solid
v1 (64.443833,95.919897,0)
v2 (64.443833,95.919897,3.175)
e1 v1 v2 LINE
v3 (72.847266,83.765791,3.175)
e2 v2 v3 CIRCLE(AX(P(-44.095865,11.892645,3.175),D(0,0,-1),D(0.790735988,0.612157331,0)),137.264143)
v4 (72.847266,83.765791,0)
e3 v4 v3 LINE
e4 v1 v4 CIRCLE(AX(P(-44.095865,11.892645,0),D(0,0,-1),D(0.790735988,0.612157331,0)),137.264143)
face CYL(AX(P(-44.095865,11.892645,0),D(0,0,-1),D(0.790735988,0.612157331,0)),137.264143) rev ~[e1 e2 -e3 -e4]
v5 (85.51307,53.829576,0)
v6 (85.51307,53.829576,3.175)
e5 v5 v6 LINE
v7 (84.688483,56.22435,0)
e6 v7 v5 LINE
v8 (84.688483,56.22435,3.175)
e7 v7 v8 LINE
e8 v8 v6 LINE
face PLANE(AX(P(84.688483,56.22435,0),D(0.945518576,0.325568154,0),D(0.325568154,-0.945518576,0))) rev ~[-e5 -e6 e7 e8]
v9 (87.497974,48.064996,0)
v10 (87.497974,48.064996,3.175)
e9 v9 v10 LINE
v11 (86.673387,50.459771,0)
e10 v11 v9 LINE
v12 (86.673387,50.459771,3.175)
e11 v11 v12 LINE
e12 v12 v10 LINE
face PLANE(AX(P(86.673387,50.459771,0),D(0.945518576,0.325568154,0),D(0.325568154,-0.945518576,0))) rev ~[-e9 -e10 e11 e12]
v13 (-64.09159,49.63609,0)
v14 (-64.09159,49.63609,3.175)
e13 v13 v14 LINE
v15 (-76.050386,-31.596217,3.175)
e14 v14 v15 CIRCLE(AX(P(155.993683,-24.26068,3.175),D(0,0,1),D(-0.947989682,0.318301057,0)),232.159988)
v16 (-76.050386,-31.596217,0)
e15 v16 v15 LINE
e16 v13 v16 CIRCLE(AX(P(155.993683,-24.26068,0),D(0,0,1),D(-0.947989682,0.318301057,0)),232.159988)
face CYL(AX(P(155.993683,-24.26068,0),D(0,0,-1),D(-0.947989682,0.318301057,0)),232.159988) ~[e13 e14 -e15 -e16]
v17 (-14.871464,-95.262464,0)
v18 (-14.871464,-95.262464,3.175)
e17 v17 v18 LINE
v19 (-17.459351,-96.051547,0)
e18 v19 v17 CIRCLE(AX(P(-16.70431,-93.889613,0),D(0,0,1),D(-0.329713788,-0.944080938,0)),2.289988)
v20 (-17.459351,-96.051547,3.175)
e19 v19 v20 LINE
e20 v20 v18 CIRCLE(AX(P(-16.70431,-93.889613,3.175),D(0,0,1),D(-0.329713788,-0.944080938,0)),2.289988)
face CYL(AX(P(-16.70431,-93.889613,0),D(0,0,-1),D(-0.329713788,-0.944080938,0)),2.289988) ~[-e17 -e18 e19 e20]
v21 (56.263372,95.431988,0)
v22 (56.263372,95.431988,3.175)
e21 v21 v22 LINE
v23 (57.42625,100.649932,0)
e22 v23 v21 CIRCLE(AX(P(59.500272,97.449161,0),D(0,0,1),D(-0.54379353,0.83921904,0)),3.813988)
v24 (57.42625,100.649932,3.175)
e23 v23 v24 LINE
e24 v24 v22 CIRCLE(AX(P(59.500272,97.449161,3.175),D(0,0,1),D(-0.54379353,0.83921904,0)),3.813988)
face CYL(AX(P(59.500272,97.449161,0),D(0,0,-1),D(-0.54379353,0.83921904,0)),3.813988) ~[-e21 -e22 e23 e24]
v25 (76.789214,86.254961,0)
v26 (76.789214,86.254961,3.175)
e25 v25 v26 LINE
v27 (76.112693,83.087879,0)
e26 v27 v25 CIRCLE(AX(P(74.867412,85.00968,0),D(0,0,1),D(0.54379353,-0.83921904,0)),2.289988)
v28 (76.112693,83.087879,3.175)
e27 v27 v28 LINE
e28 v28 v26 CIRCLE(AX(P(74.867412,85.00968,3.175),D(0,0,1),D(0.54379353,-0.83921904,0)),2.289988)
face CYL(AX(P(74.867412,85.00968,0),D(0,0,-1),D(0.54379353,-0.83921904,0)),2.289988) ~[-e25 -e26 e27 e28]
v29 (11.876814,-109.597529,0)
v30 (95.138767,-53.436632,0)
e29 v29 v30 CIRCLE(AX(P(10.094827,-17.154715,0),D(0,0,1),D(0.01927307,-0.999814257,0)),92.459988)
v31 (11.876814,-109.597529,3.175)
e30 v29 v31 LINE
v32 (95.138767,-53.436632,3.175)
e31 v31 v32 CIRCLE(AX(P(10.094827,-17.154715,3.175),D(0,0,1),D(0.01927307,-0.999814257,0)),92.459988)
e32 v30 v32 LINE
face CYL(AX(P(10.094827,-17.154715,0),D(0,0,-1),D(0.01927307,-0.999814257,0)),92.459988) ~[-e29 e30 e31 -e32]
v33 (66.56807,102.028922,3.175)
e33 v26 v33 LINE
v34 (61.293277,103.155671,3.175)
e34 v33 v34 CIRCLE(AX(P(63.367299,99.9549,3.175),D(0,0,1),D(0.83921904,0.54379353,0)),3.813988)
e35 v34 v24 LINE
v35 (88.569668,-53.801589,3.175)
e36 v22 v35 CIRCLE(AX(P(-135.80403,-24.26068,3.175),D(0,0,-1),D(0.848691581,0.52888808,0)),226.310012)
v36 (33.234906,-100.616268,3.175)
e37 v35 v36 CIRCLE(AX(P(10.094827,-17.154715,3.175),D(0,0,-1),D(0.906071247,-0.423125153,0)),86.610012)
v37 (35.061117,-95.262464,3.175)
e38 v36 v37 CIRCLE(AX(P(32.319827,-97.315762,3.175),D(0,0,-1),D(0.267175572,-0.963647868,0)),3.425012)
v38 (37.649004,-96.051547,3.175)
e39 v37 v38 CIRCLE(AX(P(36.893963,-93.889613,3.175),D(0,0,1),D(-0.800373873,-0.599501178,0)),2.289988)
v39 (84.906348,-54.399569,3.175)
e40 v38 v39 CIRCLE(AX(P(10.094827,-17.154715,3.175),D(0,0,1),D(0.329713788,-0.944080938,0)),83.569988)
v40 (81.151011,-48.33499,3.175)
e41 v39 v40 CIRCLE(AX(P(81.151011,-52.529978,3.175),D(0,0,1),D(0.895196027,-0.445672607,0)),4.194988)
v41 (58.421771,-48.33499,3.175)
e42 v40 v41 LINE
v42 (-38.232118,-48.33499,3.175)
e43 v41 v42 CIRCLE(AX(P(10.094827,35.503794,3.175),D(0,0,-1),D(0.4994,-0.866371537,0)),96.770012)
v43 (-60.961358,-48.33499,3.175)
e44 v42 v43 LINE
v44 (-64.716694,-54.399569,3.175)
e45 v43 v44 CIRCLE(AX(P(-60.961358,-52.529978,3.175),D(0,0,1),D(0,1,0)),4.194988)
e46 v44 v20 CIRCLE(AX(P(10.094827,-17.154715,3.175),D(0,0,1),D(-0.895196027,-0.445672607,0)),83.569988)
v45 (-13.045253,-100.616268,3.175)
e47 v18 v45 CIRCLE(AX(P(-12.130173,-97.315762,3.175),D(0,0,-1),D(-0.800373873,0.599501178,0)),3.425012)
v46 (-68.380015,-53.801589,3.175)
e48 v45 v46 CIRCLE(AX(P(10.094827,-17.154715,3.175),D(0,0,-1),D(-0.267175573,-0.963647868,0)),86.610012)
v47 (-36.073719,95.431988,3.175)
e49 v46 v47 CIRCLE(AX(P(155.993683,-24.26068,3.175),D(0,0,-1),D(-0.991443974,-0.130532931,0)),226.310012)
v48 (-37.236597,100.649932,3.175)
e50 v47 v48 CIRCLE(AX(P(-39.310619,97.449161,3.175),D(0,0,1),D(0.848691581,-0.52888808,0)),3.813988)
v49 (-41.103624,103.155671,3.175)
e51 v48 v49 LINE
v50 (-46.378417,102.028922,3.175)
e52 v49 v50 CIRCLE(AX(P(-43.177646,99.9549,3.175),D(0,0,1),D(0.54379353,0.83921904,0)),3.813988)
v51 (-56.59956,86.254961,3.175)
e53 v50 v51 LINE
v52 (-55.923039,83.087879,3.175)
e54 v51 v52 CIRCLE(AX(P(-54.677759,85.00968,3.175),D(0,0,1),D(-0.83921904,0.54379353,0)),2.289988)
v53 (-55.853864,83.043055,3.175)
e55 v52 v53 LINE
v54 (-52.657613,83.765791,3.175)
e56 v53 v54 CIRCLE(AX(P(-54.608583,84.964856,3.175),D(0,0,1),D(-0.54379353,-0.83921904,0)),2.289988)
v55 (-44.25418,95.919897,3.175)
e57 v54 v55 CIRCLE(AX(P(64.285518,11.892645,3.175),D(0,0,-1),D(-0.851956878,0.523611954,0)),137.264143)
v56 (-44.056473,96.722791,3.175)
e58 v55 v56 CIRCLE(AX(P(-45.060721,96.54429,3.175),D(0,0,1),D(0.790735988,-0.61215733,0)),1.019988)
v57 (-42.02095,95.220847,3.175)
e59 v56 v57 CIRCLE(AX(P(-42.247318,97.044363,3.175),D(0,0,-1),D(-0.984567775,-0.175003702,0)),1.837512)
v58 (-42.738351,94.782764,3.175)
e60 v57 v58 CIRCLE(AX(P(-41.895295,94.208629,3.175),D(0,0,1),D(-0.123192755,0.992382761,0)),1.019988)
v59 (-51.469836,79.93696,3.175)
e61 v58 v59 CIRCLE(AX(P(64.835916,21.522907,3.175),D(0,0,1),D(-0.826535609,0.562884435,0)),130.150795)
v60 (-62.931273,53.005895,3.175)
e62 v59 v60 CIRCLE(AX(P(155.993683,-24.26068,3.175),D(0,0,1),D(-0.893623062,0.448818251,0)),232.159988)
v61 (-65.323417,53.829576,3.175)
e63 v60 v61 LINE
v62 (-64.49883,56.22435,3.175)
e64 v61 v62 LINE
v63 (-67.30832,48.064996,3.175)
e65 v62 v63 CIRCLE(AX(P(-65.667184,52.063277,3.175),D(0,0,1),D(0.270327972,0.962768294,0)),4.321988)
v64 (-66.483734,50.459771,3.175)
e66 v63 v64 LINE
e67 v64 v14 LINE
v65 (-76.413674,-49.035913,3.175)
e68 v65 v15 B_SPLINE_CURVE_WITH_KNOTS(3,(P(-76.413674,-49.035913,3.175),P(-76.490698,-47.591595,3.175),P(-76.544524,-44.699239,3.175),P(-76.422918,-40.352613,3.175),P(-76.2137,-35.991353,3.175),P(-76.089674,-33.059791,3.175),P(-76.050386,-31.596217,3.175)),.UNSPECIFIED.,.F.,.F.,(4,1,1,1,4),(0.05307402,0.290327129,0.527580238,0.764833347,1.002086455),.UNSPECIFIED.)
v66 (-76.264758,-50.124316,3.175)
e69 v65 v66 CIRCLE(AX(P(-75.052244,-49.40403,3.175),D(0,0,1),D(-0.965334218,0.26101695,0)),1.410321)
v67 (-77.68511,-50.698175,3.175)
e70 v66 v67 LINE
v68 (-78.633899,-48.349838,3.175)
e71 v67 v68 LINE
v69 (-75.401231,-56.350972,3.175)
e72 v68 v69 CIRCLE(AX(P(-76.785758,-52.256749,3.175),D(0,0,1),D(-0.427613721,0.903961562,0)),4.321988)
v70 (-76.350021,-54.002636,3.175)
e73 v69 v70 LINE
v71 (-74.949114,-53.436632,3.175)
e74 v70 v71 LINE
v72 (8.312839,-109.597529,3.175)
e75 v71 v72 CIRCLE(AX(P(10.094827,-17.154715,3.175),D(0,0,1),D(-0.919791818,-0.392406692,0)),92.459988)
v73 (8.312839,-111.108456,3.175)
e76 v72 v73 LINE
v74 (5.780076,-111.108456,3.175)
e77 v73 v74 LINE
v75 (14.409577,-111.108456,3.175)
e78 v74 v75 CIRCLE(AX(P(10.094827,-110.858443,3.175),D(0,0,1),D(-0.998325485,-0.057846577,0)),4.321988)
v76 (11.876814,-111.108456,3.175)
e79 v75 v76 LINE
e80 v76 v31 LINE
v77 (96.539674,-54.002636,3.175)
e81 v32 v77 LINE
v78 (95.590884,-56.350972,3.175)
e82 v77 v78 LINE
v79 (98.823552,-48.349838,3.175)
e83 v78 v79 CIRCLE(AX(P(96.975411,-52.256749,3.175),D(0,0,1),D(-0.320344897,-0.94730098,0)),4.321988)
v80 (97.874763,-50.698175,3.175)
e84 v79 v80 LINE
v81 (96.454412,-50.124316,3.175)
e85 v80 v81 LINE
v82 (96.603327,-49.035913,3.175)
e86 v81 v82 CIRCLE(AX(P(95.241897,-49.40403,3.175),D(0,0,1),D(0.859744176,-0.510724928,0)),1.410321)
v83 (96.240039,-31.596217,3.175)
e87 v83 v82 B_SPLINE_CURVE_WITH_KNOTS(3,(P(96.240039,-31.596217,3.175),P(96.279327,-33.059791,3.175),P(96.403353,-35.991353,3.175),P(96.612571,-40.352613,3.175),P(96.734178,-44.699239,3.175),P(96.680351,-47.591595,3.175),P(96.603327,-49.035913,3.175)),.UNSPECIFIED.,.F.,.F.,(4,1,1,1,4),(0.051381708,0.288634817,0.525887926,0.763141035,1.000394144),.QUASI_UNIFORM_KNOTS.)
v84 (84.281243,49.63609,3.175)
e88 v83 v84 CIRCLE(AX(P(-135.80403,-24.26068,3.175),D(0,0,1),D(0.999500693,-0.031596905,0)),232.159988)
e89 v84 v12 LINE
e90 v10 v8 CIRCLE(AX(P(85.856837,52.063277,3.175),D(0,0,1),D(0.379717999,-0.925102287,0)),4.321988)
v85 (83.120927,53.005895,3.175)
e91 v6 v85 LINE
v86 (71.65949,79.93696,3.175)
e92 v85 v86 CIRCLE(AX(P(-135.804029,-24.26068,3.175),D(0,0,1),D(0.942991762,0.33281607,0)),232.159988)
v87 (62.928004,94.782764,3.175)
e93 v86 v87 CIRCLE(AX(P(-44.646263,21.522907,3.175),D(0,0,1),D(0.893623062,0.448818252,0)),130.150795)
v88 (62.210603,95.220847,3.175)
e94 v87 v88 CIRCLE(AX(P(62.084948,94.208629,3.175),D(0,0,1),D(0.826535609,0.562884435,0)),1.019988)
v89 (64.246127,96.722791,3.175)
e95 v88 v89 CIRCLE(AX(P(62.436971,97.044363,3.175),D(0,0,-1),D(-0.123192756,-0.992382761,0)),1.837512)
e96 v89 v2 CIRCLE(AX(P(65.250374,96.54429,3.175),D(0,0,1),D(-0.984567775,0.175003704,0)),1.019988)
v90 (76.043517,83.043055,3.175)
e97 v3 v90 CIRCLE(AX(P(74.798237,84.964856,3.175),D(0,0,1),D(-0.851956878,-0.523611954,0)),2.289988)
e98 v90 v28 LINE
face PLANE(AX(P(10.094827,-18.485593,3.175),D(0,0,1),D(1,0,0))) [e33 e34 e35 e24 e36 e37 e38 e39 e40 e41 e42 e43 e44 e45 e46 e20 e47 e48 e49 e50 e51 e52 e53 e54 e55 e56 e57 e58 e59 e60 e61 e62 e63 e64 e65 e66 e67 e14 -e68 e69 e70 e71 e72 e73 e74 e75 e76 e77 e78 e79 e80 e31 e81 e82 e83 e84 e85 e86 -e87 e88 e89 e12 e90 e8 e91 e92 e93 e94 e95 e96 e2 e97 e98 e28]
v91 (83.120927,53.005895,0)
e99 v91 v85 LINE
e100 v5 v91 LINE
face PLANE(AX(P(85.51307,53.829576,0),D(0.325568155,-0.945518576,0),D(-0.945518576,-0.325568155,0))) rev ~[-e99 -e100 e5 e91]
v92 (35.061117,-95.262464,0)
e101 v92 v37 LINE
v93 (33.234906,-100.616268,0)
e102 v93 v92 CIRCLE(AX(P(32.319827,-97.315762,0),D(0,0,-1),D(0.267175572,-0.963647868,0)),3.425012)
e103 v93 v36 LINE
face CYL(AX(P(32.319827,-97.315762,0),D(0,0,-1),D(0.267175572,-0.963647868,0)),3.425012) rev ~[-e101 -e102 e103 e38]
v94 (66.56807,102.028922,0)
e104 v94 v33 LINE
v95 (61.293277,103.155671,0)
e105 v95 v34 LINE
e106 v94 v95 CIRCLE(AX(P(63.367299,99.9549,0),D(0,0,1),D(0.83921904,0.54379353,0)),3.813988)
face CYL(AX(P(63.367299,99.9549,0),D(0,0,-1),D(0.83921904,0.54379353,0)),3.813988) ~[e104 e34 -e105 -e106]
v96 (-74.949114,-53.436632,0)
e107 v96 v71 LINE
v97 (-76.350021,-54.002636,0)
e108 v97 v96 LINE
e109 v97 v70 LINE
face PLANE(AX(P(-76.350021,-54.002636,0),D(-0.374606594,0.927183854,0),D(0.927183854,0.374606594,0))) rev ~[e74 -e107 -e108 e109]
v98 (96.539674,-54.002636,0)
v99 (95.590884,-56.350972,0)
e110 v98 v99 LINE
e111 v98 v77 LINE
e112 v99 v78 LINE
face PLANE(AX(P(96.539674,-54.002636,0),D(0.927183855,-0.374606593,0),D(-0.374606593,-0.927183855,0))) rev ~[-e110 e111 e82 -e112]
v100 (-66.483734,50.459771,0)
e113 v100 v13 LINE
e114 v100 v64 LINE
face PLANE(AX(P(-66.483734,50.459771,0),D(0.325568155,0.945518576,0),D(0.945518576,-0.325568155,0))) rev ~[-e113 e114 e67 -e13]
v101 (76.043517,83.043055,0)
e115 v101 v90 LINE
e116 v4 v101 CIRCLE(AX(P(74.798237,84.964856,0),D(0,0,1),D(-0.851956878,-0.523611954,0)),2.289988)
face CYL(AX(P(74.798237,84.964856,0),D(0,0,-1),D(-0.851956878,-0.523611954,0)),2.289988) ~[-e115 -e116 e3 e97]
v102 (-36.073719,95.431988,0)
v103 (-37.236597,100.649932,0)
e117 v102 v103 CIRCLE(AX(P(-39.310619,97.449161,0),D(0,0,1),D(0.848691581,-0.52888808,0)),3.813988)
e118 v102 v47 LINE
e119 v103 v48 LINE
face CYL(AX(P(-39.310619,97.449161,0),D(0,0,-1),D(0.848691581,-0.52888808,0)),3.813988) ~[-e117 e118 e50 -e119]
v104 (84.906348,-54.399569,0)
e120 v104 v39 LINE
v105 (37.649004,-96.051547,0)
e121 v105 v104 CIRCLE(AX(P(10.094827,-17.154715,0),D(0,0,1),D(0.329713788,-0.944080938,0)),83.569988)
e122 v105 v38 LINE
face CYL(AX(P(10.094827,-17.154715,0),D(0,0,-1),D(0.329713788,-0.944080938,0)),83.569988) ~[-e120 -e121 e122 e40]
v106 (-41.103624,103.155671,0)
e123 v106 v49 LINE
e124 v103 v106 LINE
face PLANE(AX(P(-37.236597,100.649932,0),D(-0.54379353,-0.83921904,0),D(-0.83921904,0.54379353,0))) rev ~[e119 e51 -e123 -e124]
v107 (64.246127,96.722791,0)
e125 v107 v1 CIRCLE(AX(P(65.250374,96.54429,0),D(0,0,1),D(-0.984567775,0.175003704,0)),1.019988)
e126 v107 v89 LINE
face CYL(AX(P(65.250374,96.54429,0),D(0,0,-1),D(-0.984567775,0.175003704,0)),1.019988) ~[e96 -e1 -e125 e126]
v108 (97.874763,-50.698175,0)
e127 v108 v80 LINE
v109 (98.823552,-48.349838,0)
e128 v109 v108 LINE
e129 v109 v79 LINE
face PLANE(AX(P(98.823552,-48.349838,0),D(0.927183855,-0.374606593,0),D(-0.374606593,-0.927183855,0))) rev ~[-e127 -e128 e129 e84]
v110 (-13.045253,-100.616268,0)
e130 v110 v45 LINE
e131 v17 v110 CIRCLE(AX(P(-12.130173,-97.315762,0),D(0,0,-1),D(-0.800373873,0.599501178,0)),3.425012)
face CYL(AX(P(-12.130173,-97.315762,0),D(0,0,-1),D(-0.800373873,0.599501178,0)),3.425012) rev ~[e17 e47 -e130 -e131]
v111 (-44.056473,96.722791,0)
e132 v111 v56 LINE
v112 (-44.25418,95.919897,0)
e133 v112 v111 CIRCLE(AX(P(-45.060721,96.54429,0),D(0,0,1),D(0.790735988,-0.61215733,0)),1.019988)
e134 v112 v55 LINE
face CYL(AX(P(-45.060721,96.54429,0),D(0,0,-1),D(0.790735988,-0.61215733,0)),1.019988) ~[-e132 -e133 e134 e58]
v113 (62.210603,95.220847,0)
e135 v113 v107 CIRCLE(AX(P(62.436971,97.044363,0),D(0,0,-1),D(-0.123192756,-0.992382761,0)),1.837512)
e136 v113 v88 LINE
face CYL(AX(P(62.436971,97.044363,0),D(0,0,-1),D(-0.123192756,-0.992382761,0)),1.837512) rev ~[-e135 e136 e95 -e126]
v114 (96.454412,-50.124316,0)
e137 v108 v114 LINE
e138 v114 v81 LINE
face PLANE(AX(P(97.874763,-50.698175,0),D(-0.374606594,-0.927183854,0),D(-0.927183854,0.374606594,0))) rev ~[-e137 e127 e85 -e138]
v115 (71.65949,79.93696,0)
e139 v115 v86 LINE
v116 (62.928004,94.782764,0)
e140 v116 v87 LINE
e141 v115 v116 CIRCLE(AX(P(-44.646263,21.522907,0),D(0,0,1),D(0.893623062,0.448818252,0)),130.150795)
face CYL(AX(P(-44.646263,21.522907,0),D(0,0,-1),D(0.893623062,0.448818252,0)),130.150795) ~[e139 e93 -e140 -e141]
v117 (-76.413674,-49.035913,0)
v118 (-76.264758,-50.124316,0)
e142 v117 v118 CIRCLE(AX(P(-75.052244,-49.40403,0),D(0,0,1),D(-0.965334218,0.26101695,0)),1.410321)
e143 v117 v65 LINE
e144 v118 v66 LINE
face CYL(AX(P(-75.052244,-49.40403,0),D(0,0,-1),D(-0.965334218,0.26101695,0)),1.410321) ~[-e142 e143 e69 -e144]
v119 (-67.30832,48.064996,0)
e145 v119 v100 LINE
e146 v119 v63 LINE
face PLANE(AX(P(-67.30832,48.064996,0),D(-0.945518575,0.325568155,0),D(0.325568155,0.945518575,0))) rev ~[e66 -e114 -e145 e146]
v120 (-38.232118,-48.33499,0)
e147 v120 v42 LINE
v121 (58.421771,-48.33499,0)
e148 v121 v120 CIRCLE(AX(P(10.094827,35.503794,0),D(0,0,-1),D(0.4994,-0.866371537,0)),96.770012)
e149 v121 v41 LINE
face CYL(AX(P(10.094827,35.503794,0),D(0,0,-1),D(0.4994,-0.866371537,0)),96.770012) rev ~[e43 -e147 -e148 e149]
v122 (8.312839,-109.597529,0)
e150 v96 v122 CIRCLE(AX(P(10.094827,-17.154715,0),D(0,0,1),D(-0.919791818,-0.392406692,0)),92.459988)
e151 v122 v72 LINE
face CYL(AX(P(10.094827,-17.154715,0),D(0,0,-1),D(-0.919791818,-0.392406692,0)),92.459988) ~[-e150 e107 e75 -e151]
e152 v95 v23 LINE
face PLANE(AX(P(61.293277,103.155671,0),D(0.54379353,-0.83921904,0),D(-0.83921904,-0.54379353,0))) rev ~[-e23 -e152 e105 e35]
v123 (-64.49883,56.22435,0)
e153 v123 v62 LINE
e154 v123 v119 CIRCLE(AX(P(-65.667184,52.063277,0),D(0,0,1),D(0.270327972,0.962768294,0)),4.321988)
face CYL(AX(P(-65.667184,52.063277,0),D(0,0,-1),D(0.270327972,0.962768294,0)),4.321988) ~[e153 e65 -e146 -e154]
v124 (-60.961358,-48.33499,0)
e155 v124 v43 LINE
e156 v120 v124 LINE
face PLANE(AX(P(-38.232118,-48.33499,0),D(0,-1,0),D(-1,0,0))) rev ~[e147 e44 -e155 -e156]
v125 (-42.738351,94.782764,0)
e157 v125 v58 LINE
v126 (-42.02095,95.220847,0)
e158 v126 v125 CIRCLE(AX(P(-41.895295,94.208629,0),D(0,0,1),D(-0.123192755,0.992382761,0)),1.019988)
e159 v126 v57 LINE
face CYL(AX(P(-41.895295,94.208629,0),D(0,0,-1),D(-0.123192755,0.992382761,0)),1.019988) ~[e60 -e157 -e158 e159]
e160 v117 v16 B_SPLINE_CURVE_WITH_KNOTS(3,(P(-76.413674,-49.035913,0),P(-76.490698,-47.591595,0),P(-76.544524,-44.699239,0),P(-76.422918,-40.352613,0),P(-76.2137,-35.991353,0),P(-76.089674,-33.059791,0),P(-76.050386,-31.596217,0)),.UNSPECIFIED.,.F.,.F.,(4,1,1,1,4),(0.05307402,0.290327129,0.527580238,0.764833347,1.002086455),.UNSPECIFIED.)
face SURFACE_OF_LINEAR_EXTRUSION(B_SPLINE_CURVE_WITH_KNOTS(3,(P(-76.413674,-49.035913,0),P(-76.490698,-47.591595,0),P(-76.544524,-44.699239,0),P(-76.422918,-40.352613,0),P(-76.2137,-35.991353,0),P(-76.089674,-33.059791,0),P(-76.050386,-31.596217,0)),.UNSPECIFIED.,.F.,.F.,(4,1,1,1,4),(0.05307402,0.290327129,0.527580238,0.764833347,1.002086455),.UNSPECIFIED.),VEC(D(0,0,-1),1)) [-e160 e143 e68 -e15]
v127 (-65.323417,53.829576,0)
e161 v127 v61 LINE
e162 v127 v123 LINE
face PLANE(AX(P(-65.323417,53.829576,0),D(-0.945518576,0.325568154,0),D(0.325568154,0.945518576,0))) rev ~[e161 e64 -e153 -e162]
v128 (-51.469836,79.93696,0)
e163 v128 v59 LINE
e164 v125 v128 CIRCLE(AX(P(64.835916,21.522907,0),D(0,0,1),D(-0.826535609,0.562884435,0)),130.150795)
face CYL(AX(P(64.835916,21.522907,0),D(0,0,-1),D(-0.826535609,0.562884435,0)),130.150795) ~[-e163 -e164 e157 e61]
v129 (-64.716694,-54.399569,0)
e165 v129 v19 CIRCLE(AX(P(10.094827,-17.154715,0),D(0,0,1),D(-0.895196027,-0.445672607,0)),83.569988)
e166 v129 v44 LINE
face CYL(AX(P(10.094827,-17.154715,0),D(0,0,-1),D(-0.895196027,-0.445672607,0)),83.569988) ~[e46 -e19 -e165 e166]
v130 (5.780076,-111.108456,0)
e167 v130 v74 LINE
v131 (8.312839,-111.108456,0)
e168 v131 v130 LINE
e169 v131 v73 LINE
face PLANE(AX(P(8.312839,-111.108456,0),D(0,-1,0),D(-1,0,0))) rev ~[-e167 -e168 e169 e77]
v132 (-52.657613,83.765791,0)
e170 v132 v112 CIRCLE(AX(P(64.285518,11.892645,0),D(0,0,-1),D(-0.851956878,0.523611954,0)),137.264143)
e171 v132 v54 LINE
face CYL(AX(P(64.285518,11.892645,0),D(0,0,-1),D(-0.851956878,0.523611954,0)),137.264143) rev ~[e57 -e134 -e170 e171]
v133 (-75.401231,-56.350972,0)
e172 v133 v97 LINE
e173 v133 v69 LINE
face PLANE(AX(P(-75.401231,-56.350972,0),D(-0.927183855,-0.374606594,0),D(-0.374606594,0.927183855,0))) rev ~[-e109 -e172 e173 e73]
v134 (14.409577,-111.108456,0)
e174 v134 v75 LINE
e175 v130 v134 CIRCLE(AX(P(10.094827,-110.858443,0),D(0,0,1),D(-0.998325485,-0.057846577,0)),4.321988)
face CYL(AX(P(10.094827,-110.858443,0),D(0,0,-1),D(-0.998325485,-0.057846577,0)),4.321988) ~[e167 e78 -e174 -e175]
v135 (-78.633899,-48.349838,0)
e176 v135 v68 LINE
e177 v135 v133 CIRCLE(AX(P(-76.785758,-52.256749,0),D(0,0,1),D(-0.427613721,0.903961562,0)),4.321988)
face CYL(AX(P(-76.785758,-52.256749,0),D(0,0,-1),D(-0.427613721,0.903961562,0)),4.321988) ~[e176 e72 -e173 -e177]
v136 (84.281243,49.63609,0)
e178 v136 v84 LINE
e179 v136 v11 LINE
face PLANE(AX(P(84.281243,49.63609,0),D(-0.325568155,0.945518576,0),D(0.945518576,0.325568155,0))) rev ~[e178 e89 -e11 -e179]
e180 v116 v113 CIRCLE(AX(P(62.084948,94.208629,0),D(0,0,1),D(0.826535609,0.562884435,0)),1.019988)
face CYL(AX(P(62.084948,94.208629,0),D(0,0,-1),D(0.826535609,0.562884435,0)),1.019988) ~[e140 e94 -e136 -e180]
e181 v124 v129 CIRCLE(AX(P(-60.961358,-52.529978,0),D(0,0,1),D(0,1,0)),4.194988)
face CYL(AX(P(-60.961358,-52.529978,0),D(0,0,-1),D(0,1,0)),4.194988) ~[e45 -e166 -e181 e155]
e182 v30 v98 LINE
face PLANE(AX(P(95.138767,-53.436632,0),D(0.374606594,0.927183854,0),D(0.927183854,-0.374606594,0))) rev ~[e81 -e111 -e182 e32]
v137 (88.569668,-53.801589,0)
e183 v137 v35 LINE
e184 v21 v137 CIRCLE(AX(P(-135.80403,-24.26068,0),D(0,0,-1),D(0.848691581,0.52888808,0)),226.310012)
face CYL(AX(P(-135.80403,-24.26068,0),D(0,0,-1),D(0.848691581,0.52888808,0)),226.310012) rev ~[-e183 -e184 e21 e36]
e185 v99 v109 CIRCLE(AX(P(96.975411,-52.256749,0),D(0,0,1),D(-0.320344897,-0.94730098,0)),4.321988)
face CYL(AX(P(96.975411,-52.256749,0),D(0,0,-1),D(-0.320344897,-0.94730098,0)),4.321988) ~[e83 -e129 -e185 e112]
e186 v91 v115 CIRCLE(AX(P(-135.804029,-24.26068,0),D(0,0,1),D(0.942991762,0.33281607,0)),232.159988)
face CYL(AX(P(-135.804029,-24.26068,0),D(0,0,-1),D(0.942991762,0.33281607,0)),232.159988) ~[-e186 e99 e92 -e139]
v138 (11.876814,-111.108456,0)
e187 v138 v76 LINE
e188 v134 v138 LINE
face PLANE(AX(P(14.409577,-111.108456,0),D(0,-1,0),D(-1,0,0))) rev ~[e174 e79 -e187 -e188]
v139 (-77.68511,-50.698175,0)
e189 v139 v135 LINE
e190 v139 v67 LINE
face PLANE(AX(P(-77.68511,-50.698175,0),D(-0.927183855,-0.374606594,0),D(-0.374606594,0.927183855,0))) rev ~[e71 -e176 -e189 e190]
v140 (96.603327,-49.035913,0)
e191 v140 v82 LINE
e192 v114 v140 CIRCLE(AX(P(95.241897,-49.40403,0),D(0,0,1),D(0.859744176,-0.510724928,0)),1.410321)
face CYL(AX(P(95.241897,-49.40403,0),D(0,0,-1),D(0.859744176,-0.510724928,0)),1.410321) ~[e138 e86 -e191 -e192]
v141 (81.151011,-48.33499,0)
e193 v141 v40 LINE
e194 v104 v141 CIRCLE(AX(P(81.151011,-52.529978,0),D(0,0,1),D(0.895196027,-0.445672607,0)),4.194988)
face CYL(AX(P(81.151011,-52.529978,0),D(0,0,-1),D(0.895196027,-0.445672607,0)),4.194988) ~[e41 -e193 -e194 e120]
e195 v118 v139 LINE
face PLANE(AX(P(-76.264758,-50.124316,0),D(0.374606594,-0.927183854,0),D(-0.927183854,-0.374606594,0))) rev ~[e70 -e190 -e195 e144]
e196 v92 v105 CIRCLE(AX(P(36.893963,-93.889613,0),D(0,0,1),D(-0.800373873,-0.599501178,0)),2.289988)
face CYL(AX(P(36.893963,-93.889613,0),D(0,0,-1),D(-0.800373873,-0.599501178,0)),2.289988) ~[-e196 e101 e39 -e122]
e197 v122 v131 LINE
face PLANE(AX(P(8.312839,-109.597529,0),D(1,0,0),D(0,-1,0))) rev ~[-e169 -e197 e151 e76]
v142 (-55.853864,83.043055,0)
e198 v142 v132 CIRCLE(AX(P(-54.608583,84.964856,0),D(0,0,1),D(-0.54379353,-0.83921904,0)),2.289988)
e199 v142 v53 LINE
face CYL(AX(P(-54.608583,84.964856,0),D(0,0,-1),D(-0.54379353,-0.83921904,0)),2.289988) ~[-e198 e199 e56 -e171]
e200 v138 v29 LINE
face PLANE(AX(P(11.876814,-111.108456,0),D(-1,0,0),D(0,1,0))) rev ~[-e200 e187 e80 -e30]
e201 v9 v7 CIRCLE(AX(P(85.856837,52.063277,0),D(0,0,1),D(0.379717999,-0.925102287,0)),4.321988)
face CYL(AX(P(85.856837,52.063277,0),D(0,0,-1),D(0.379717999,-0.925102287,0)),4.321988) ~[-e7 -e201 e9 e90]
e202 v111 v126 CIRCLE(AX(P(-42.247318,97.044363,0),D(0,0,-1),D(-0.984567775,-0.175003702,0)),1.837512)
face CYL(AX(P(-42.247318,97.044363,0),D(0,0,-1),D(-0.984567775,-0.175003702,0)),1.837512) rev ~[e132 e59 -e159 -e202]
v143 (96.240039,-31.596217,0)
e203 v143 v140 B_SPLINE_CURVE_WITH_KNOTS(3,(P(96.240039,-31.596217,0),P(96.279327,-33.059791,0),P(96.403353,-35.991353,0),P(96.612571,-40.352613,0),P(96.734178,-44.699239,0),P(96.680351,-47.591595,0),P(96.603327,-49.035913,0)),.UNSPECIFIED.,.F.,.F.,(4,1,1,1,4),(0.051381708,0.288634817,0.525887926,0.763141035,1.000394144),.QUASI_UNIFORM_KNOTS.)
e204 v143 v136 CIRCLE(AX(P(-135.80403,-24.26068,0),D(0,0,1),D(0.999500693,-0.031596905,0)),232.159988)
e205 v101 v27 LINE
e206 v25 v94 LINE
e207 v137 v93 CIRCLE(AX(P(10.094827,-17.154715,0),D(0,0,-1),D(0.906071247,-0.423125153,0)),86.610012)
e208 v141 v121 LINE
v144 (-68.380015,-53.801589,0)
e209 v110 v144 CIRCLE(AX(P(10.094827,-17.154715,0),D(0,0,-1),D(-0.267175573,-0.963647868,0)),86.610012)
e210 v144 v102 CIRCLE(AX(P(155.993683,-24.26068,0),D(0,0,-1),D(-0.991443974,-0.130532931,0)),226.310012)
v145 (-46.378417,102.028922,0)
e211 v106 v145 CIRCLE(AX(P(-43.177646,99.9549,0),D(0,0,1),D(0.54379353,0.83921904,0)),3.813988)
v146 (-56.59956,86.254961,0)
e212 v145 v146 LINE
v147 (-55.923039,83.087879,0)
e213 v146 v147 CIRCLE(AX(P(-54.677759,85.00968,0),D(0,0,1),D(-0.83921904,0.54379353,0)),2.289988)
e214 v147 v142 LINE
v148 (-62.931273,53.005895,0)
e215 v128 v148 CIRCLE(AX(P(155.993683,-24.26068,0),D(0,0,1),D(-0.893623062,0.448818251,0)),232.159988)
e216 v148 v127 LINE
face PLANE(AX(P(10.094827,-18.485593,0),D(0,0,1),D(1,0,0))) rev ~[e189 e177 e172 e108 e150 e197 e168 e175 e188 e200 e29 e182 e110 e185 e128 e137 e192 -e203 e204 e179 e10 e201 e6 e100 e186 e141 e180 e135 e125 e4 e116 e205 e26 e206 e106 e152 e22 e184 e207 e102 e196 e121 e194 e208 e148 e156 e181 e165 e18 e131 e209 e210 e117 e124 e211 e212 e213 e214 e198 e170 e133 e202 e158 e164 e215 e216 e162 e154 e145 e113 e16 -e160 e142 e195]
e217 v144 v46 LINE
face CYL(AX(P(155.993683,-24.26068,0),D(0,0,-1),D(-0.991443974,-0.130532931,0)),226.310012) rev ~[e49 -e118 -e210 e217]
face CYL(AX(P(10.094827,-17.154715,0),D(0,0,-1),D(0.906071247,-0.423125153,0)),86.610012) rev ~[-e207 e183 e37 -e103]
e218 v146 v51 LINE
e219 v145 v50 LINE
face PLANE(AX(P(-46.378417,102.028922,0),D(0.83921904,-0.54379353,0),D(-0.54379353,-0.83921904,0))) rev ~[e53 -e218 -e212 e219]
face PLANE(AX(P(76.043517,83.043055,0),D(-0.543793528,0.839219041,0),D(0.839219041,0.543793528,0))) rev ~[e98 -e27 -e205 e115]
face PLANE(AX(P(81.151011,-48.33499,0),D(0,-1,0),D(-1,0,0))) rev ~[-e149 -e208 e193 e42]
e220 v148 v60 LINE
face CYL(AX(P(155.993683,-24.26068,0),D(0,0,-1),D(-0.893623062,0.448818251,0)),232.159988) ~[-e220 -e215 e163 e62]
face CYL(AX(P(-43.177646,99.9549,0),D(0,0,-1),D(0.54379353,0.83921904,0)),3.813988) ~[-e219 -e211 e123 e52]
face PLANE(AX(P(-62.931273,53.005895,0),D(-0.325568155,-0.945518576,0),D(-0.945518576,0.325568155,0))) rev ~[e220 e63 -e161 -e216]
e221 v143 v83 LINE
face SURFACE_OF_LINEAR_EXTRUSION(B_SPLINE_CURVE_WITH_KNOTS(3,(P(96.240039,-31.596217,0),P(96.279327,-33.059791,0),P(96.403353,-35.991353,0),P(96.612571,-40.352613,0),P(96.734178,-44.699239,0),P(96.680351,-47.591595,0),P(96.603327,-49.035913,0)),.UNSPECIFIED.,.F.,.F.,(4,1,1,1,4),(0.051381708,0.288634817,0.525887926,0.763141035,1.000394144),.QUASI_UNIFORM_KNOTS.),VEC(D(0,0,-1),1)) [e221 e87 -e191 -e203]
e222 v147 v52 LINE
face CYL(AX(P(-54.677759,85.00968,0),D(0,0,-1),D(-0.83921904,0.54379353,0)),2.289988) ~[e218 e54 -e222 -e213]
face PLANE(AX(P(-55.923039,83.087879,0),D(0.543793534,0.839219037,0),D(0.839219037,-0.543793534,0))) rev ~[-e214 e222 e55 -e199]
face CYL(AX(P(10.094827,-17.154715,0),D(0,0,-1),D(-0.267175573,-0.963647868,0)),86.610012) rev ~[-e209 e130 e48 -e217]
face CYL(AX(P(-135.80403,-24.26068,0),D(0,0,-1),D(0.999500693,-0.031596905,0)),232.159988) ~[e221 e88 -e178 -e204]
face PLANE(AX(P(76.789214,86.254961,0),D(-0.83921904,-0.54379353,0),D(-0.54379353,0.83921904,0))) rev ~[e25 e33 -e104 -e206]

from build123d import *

# Parameters (mm, degrees)
BOSS_EXTRUDE1_DEPTH = 3.175


with BuildPart() as part:
    # Sketch1 → Boss-Extrude1 (new body)
    with BuildSketch(Plane.XY):
        with BuildLine():
            Line((-38.232117525, -48.334989908), (-60.961358056, -48.334989908))
            ThreePointArc((-60.961358056, -48.334989908), (-64.527927466, -50.321470228), (-64.71669447, -54.399568858))
            ThreePointArc((-64.71669447, -54.399568858), (-45.162805162, -79.848709383), (-17.459350628, -96.051547015))
            ThreePointArc((-17.459350628, -96.051547015), (-16.036418216, -96.080038848), (-14.87146367, -95.262463569))
            ThreePointArc((-14.87146367, -95.262463569), (-8.888558673, -96.210030714), (-13.045252985, -100.616268123))
            ThreePointArc((-13.045252985, -100.616268123), (-45.845334299, -83.275759663), (-68.380015164, -53.801589172))
            ThreePointArc((-68.380015164, -53.801589172), (-65.192805425, 23.622083996), (-36.073719239, 95.431987857))
            ThreePointArc((-36.073719239, 95.431987857), (-35.587957482, 98.278797412), (-37.236596684, 100.64993172))
            Line((-37.236596684, 100.64993172), (-41.103624033, 103.155671407))
            ThreePointArc((-41.103624033, 103.155671407), (-43.974377986, 103.684742176), (-46.378417101, 102.028922117))
            Line((-46.378417101, 102.028922117), (-56.599560294, 86.254961047))
            ThreePointArc((-56.599560294, 86.254961047), (-56.917224028, 84.531308043), (-55.923039481, 83.087879135))
            Line((-55.923039481, 83.087879135), (-55.853863949, 83.043055072))
            ThreePointArc((-55.853863949, 83.043055072), (-54.103522344, 82.73125901), (-52.657612543, 83.765791448))
            ThreePointArc((-52.657612543, 83.765791448), (-48.619561631, 89.956003624), (-44.25417952, 95.919896729))
            ThreePointArc((-44.25417952, 95.919896729), (-44.070317424, 96.300411286), (-44.056473461, 96.722791379))
            ThreePointArc((-44.056473461, 96.722791379), (-41.15632655, 98.522939289), (-42.02094997, 95.220847385))
            ThreePointArc((-42.02094997, 95.220847385), (-42.426877037, 95.079143581), (-42.7383511, 94.782764332))
            ThreePointArc((-42.7383511, 94.782764332), (-47.349935461, 87.504452643), (-51.469836467, 79.936959858))
            ThreePointArc((-51.469836467, 79.936959858), (-57.625378953, 66.65222576), (-62.931273284, 53.005894799))
            Line((-62.931273284, 53.005894799), (-65.323416618, 53.829575804))
            Line((-65.323416618, 53.829575804), (-64.498829719, 56.224350047))
            ThreePointArc((-64.498829719, 56.224350047), (-69.753703666, 53.470378819), (-67.308320476, 48.064996429))
            Line((-67.308320476, 48.064996429), (-66.483733576, 50.459770671))
            Line((-66.483733576, 50.459770671), (-64.091590242, 49.636089666))
            ThreePointArc((-64.091590242, 49.636089666), (-73.69068183, 9.552817578), (-76.050385999, -31.596217123))
            add(Edge.make_bspline(
                [(-76.413674196, -49.035912557), (-76.490697688, -47.59159519), (-76.544524485, -44.699239364), (-76.422918165, -40.352613355), (-76.213699928, -35.991352831), (-76.089673965, -33.05979149), (-76.050385999, -31.596217123)],
                knots=[0.05307402, 0.05307402, 0.05307402, 0.05307402, 0.290327129, 0.527580238, 0.764833347, 1.002086455, 1.002086455, 1.002086455, 1.002086455], degree=3))
            ThreePointArc((-76.413674196, -49.035912557), (-76.449546072, -49.595209625), (-76.264758395, -50.124315962))
            Line((-76.264758395, -50.124315962), (-77.685109529, -50.698175071))
            Line((-77.685109529, -50.698175071), (-78.633899161, -48.349838327))
            ThreePointArc((-78.633899161, -48.349838327), (-80.793035183, -53.875794296), (-75.401231139, -56.350972449))
            Line((-75.401231139, -56.350972449), (-76.350020771, -54.002635705))
            Line((-76.350020771, -54.002635705), (-74.949113638, -53.436632483))
            ThreePointArc((-74.949113638, -53.436632483), (-41.608142422, -93.807518365), (8.312838811, -109.597528539))
            Line((8.312838811, -109.597528539), (8.312838811, -111.108455553))
            Line((8.312838811, -111.108455553), (5.780076045, -111.108455553))
            ThreePointArc((5.780076045, -111.108455553), (10.094826611, -115.180431153), (14.409577176, -111.108455553))
            Line((14.409577176, -111.108455553), (11.876814411, -111.108455553))
            Line((11.876814411, -111.108455553), (11.876814411, -109.597528539))
            ThreePointArc((11.876814411, -109.597528539), (61.797795644, -93.807518365), (95.138766859, -53.436632483))
            Line((95.138766859, -53.436632483), (96.539673992, -54.002635705))
            Line((96.539673992, -54.002635705), (95.590884361, -56.350972449))
            ThreePointArc((95.590884361, -56.350972449), (100.982688404, -53.875794296), (98.823552382, -48.349838327))
            Line((98.823552382, -48.349838327), (97.874762751, -50.698175071))
            Line((97.874762751, -50.698175071), (96.454411616, -50.124315962))
            ThreePointArc((96.454411616, -50.124315962), (96.639199294, -49.595209625), (96.603327418, -49.035912557))
            add(Edge.make_bspline(
                [(96.240039221, -31.596217123), (96.279327187, -33.05979149), (96.40335315, -35.991352831), (96.612571387, -40.352613355), (96.734177707, -44.699239364), (96.68035091, -47.59159519), (96.603327418, -49.035912557)],
                knots=[0.051381708, 0.051381708, 0.051381708, 0.051381708, 0.288634817, 0.525887926, 0.763141035, 1.000394144, 1.000394144, 1.000394144, 1.000394144], degree=3))
            ThreePointArc((96.240039221, -31.596217123), (93.880335052, 9.552817578), (84.281243464, 49.636089666))
            Line((84.281243464, 49.636089666), (86.673386798, 50.459770671))
            Line((86.673386798, 50.459770671), (87.497973697, 48.064996429))
            ThreePointArc((87.497973697, 48.064996429), (89.943356888, 53.470378819), (84.68848294, 56.224350047))
            Line((84.68848294, 56.224350047), (85.513069839, 53.829575804))
            Line((85.513069839, 53.829575804), (83.120926505, 53.005894799))
            ThreePointArc((83.120926505, 53.005894799), (77.815032175, 66.65222576), (71.659489689, 79.936959858))
            ThreePointArc((71.659489689, 79.936959858), (67.539588683, 87.504452643), (62.928004321, 94.782764332))
            ThreePointArc((62.928004321, 94.782764332), (62.616530258, 95.079143581), (62.210603192, 95.220847385))
            ThreePointArc((62.210603192, 95.220847385), (61.345979772, 98.522939289), (64.246126683, 96.722791379))
            ThreePointArc((64.246126683, 96.722791379), (64.259970645, 96.300411286), (64.443832742, 95.919896729))
            ThreePointArc((64.443832742, 95.919896729), (68.809214853, 89.956003624), (72.847265765, 83.765791448))
            ThreePointArc((72.847265765, 83.765791448), (74.293175566, 82.73125901), (76.04351717, 83.043055072))
            Line((76.04351717, 83.043055072), (76.112692703, 83.087879135))
            ThreePointArc((76.112692703, 83.087879135), (77.10687725, 84.531308043), (76.789213515, 86.254961047))
            Line((76.789213515, 86.254961047), (66.568070323, 102.028922117))
            ThreePointArc((66.568070323, 102.028922117), (64.164031207, 103.684742176), (61.293277254, 103.155671407))
            Line((61.293277254, 103.155671407), (57.426249905, 100.64993172))
            ThreePointArc((57.426249905, 100.64993172), (55.777610703, 98.278797412), (56.26337246, 95.431987857))
            ThreePointArc((56.26337246, 95.431987857), (85.382458646, 23.622083996), (88.569668386, -53.801589172))
            ThreePointArc((88.569668386, -53.801589172), (66.03498752, -83.275759663), (33.234906206, -100.616268123))
            ThreePointArc((33.234906206, -100.616268123), (29.078211895, -96.210030714), (35.061116892, -95.262463569))
            ThreePointArc((35.061116892, -95.262463569), (36.226071438, -96.080038848), (37.649003849, -96.051547015))
            ThreePointArc((37.649003849, -96.051547015), (65.352458384, -79.848709383), (84.906347691, -54.399568858))
            ThreePointArc((84.906347691, -54.399568858), (84.717580687, -50.321470228), (81.151011278, -48.334989908))
            Line((81.151011278, -48.334989908), (58.421770747, -48.334989908))
            ThreePointArc((58.421770747, -48.334989908), (10.094826611, -61.266217935), (-38.232117525, -48.334989908))
        make_face()
    extrude(amount=BOSS_EXTRUDE1_DEPTH)


solid = part.part
